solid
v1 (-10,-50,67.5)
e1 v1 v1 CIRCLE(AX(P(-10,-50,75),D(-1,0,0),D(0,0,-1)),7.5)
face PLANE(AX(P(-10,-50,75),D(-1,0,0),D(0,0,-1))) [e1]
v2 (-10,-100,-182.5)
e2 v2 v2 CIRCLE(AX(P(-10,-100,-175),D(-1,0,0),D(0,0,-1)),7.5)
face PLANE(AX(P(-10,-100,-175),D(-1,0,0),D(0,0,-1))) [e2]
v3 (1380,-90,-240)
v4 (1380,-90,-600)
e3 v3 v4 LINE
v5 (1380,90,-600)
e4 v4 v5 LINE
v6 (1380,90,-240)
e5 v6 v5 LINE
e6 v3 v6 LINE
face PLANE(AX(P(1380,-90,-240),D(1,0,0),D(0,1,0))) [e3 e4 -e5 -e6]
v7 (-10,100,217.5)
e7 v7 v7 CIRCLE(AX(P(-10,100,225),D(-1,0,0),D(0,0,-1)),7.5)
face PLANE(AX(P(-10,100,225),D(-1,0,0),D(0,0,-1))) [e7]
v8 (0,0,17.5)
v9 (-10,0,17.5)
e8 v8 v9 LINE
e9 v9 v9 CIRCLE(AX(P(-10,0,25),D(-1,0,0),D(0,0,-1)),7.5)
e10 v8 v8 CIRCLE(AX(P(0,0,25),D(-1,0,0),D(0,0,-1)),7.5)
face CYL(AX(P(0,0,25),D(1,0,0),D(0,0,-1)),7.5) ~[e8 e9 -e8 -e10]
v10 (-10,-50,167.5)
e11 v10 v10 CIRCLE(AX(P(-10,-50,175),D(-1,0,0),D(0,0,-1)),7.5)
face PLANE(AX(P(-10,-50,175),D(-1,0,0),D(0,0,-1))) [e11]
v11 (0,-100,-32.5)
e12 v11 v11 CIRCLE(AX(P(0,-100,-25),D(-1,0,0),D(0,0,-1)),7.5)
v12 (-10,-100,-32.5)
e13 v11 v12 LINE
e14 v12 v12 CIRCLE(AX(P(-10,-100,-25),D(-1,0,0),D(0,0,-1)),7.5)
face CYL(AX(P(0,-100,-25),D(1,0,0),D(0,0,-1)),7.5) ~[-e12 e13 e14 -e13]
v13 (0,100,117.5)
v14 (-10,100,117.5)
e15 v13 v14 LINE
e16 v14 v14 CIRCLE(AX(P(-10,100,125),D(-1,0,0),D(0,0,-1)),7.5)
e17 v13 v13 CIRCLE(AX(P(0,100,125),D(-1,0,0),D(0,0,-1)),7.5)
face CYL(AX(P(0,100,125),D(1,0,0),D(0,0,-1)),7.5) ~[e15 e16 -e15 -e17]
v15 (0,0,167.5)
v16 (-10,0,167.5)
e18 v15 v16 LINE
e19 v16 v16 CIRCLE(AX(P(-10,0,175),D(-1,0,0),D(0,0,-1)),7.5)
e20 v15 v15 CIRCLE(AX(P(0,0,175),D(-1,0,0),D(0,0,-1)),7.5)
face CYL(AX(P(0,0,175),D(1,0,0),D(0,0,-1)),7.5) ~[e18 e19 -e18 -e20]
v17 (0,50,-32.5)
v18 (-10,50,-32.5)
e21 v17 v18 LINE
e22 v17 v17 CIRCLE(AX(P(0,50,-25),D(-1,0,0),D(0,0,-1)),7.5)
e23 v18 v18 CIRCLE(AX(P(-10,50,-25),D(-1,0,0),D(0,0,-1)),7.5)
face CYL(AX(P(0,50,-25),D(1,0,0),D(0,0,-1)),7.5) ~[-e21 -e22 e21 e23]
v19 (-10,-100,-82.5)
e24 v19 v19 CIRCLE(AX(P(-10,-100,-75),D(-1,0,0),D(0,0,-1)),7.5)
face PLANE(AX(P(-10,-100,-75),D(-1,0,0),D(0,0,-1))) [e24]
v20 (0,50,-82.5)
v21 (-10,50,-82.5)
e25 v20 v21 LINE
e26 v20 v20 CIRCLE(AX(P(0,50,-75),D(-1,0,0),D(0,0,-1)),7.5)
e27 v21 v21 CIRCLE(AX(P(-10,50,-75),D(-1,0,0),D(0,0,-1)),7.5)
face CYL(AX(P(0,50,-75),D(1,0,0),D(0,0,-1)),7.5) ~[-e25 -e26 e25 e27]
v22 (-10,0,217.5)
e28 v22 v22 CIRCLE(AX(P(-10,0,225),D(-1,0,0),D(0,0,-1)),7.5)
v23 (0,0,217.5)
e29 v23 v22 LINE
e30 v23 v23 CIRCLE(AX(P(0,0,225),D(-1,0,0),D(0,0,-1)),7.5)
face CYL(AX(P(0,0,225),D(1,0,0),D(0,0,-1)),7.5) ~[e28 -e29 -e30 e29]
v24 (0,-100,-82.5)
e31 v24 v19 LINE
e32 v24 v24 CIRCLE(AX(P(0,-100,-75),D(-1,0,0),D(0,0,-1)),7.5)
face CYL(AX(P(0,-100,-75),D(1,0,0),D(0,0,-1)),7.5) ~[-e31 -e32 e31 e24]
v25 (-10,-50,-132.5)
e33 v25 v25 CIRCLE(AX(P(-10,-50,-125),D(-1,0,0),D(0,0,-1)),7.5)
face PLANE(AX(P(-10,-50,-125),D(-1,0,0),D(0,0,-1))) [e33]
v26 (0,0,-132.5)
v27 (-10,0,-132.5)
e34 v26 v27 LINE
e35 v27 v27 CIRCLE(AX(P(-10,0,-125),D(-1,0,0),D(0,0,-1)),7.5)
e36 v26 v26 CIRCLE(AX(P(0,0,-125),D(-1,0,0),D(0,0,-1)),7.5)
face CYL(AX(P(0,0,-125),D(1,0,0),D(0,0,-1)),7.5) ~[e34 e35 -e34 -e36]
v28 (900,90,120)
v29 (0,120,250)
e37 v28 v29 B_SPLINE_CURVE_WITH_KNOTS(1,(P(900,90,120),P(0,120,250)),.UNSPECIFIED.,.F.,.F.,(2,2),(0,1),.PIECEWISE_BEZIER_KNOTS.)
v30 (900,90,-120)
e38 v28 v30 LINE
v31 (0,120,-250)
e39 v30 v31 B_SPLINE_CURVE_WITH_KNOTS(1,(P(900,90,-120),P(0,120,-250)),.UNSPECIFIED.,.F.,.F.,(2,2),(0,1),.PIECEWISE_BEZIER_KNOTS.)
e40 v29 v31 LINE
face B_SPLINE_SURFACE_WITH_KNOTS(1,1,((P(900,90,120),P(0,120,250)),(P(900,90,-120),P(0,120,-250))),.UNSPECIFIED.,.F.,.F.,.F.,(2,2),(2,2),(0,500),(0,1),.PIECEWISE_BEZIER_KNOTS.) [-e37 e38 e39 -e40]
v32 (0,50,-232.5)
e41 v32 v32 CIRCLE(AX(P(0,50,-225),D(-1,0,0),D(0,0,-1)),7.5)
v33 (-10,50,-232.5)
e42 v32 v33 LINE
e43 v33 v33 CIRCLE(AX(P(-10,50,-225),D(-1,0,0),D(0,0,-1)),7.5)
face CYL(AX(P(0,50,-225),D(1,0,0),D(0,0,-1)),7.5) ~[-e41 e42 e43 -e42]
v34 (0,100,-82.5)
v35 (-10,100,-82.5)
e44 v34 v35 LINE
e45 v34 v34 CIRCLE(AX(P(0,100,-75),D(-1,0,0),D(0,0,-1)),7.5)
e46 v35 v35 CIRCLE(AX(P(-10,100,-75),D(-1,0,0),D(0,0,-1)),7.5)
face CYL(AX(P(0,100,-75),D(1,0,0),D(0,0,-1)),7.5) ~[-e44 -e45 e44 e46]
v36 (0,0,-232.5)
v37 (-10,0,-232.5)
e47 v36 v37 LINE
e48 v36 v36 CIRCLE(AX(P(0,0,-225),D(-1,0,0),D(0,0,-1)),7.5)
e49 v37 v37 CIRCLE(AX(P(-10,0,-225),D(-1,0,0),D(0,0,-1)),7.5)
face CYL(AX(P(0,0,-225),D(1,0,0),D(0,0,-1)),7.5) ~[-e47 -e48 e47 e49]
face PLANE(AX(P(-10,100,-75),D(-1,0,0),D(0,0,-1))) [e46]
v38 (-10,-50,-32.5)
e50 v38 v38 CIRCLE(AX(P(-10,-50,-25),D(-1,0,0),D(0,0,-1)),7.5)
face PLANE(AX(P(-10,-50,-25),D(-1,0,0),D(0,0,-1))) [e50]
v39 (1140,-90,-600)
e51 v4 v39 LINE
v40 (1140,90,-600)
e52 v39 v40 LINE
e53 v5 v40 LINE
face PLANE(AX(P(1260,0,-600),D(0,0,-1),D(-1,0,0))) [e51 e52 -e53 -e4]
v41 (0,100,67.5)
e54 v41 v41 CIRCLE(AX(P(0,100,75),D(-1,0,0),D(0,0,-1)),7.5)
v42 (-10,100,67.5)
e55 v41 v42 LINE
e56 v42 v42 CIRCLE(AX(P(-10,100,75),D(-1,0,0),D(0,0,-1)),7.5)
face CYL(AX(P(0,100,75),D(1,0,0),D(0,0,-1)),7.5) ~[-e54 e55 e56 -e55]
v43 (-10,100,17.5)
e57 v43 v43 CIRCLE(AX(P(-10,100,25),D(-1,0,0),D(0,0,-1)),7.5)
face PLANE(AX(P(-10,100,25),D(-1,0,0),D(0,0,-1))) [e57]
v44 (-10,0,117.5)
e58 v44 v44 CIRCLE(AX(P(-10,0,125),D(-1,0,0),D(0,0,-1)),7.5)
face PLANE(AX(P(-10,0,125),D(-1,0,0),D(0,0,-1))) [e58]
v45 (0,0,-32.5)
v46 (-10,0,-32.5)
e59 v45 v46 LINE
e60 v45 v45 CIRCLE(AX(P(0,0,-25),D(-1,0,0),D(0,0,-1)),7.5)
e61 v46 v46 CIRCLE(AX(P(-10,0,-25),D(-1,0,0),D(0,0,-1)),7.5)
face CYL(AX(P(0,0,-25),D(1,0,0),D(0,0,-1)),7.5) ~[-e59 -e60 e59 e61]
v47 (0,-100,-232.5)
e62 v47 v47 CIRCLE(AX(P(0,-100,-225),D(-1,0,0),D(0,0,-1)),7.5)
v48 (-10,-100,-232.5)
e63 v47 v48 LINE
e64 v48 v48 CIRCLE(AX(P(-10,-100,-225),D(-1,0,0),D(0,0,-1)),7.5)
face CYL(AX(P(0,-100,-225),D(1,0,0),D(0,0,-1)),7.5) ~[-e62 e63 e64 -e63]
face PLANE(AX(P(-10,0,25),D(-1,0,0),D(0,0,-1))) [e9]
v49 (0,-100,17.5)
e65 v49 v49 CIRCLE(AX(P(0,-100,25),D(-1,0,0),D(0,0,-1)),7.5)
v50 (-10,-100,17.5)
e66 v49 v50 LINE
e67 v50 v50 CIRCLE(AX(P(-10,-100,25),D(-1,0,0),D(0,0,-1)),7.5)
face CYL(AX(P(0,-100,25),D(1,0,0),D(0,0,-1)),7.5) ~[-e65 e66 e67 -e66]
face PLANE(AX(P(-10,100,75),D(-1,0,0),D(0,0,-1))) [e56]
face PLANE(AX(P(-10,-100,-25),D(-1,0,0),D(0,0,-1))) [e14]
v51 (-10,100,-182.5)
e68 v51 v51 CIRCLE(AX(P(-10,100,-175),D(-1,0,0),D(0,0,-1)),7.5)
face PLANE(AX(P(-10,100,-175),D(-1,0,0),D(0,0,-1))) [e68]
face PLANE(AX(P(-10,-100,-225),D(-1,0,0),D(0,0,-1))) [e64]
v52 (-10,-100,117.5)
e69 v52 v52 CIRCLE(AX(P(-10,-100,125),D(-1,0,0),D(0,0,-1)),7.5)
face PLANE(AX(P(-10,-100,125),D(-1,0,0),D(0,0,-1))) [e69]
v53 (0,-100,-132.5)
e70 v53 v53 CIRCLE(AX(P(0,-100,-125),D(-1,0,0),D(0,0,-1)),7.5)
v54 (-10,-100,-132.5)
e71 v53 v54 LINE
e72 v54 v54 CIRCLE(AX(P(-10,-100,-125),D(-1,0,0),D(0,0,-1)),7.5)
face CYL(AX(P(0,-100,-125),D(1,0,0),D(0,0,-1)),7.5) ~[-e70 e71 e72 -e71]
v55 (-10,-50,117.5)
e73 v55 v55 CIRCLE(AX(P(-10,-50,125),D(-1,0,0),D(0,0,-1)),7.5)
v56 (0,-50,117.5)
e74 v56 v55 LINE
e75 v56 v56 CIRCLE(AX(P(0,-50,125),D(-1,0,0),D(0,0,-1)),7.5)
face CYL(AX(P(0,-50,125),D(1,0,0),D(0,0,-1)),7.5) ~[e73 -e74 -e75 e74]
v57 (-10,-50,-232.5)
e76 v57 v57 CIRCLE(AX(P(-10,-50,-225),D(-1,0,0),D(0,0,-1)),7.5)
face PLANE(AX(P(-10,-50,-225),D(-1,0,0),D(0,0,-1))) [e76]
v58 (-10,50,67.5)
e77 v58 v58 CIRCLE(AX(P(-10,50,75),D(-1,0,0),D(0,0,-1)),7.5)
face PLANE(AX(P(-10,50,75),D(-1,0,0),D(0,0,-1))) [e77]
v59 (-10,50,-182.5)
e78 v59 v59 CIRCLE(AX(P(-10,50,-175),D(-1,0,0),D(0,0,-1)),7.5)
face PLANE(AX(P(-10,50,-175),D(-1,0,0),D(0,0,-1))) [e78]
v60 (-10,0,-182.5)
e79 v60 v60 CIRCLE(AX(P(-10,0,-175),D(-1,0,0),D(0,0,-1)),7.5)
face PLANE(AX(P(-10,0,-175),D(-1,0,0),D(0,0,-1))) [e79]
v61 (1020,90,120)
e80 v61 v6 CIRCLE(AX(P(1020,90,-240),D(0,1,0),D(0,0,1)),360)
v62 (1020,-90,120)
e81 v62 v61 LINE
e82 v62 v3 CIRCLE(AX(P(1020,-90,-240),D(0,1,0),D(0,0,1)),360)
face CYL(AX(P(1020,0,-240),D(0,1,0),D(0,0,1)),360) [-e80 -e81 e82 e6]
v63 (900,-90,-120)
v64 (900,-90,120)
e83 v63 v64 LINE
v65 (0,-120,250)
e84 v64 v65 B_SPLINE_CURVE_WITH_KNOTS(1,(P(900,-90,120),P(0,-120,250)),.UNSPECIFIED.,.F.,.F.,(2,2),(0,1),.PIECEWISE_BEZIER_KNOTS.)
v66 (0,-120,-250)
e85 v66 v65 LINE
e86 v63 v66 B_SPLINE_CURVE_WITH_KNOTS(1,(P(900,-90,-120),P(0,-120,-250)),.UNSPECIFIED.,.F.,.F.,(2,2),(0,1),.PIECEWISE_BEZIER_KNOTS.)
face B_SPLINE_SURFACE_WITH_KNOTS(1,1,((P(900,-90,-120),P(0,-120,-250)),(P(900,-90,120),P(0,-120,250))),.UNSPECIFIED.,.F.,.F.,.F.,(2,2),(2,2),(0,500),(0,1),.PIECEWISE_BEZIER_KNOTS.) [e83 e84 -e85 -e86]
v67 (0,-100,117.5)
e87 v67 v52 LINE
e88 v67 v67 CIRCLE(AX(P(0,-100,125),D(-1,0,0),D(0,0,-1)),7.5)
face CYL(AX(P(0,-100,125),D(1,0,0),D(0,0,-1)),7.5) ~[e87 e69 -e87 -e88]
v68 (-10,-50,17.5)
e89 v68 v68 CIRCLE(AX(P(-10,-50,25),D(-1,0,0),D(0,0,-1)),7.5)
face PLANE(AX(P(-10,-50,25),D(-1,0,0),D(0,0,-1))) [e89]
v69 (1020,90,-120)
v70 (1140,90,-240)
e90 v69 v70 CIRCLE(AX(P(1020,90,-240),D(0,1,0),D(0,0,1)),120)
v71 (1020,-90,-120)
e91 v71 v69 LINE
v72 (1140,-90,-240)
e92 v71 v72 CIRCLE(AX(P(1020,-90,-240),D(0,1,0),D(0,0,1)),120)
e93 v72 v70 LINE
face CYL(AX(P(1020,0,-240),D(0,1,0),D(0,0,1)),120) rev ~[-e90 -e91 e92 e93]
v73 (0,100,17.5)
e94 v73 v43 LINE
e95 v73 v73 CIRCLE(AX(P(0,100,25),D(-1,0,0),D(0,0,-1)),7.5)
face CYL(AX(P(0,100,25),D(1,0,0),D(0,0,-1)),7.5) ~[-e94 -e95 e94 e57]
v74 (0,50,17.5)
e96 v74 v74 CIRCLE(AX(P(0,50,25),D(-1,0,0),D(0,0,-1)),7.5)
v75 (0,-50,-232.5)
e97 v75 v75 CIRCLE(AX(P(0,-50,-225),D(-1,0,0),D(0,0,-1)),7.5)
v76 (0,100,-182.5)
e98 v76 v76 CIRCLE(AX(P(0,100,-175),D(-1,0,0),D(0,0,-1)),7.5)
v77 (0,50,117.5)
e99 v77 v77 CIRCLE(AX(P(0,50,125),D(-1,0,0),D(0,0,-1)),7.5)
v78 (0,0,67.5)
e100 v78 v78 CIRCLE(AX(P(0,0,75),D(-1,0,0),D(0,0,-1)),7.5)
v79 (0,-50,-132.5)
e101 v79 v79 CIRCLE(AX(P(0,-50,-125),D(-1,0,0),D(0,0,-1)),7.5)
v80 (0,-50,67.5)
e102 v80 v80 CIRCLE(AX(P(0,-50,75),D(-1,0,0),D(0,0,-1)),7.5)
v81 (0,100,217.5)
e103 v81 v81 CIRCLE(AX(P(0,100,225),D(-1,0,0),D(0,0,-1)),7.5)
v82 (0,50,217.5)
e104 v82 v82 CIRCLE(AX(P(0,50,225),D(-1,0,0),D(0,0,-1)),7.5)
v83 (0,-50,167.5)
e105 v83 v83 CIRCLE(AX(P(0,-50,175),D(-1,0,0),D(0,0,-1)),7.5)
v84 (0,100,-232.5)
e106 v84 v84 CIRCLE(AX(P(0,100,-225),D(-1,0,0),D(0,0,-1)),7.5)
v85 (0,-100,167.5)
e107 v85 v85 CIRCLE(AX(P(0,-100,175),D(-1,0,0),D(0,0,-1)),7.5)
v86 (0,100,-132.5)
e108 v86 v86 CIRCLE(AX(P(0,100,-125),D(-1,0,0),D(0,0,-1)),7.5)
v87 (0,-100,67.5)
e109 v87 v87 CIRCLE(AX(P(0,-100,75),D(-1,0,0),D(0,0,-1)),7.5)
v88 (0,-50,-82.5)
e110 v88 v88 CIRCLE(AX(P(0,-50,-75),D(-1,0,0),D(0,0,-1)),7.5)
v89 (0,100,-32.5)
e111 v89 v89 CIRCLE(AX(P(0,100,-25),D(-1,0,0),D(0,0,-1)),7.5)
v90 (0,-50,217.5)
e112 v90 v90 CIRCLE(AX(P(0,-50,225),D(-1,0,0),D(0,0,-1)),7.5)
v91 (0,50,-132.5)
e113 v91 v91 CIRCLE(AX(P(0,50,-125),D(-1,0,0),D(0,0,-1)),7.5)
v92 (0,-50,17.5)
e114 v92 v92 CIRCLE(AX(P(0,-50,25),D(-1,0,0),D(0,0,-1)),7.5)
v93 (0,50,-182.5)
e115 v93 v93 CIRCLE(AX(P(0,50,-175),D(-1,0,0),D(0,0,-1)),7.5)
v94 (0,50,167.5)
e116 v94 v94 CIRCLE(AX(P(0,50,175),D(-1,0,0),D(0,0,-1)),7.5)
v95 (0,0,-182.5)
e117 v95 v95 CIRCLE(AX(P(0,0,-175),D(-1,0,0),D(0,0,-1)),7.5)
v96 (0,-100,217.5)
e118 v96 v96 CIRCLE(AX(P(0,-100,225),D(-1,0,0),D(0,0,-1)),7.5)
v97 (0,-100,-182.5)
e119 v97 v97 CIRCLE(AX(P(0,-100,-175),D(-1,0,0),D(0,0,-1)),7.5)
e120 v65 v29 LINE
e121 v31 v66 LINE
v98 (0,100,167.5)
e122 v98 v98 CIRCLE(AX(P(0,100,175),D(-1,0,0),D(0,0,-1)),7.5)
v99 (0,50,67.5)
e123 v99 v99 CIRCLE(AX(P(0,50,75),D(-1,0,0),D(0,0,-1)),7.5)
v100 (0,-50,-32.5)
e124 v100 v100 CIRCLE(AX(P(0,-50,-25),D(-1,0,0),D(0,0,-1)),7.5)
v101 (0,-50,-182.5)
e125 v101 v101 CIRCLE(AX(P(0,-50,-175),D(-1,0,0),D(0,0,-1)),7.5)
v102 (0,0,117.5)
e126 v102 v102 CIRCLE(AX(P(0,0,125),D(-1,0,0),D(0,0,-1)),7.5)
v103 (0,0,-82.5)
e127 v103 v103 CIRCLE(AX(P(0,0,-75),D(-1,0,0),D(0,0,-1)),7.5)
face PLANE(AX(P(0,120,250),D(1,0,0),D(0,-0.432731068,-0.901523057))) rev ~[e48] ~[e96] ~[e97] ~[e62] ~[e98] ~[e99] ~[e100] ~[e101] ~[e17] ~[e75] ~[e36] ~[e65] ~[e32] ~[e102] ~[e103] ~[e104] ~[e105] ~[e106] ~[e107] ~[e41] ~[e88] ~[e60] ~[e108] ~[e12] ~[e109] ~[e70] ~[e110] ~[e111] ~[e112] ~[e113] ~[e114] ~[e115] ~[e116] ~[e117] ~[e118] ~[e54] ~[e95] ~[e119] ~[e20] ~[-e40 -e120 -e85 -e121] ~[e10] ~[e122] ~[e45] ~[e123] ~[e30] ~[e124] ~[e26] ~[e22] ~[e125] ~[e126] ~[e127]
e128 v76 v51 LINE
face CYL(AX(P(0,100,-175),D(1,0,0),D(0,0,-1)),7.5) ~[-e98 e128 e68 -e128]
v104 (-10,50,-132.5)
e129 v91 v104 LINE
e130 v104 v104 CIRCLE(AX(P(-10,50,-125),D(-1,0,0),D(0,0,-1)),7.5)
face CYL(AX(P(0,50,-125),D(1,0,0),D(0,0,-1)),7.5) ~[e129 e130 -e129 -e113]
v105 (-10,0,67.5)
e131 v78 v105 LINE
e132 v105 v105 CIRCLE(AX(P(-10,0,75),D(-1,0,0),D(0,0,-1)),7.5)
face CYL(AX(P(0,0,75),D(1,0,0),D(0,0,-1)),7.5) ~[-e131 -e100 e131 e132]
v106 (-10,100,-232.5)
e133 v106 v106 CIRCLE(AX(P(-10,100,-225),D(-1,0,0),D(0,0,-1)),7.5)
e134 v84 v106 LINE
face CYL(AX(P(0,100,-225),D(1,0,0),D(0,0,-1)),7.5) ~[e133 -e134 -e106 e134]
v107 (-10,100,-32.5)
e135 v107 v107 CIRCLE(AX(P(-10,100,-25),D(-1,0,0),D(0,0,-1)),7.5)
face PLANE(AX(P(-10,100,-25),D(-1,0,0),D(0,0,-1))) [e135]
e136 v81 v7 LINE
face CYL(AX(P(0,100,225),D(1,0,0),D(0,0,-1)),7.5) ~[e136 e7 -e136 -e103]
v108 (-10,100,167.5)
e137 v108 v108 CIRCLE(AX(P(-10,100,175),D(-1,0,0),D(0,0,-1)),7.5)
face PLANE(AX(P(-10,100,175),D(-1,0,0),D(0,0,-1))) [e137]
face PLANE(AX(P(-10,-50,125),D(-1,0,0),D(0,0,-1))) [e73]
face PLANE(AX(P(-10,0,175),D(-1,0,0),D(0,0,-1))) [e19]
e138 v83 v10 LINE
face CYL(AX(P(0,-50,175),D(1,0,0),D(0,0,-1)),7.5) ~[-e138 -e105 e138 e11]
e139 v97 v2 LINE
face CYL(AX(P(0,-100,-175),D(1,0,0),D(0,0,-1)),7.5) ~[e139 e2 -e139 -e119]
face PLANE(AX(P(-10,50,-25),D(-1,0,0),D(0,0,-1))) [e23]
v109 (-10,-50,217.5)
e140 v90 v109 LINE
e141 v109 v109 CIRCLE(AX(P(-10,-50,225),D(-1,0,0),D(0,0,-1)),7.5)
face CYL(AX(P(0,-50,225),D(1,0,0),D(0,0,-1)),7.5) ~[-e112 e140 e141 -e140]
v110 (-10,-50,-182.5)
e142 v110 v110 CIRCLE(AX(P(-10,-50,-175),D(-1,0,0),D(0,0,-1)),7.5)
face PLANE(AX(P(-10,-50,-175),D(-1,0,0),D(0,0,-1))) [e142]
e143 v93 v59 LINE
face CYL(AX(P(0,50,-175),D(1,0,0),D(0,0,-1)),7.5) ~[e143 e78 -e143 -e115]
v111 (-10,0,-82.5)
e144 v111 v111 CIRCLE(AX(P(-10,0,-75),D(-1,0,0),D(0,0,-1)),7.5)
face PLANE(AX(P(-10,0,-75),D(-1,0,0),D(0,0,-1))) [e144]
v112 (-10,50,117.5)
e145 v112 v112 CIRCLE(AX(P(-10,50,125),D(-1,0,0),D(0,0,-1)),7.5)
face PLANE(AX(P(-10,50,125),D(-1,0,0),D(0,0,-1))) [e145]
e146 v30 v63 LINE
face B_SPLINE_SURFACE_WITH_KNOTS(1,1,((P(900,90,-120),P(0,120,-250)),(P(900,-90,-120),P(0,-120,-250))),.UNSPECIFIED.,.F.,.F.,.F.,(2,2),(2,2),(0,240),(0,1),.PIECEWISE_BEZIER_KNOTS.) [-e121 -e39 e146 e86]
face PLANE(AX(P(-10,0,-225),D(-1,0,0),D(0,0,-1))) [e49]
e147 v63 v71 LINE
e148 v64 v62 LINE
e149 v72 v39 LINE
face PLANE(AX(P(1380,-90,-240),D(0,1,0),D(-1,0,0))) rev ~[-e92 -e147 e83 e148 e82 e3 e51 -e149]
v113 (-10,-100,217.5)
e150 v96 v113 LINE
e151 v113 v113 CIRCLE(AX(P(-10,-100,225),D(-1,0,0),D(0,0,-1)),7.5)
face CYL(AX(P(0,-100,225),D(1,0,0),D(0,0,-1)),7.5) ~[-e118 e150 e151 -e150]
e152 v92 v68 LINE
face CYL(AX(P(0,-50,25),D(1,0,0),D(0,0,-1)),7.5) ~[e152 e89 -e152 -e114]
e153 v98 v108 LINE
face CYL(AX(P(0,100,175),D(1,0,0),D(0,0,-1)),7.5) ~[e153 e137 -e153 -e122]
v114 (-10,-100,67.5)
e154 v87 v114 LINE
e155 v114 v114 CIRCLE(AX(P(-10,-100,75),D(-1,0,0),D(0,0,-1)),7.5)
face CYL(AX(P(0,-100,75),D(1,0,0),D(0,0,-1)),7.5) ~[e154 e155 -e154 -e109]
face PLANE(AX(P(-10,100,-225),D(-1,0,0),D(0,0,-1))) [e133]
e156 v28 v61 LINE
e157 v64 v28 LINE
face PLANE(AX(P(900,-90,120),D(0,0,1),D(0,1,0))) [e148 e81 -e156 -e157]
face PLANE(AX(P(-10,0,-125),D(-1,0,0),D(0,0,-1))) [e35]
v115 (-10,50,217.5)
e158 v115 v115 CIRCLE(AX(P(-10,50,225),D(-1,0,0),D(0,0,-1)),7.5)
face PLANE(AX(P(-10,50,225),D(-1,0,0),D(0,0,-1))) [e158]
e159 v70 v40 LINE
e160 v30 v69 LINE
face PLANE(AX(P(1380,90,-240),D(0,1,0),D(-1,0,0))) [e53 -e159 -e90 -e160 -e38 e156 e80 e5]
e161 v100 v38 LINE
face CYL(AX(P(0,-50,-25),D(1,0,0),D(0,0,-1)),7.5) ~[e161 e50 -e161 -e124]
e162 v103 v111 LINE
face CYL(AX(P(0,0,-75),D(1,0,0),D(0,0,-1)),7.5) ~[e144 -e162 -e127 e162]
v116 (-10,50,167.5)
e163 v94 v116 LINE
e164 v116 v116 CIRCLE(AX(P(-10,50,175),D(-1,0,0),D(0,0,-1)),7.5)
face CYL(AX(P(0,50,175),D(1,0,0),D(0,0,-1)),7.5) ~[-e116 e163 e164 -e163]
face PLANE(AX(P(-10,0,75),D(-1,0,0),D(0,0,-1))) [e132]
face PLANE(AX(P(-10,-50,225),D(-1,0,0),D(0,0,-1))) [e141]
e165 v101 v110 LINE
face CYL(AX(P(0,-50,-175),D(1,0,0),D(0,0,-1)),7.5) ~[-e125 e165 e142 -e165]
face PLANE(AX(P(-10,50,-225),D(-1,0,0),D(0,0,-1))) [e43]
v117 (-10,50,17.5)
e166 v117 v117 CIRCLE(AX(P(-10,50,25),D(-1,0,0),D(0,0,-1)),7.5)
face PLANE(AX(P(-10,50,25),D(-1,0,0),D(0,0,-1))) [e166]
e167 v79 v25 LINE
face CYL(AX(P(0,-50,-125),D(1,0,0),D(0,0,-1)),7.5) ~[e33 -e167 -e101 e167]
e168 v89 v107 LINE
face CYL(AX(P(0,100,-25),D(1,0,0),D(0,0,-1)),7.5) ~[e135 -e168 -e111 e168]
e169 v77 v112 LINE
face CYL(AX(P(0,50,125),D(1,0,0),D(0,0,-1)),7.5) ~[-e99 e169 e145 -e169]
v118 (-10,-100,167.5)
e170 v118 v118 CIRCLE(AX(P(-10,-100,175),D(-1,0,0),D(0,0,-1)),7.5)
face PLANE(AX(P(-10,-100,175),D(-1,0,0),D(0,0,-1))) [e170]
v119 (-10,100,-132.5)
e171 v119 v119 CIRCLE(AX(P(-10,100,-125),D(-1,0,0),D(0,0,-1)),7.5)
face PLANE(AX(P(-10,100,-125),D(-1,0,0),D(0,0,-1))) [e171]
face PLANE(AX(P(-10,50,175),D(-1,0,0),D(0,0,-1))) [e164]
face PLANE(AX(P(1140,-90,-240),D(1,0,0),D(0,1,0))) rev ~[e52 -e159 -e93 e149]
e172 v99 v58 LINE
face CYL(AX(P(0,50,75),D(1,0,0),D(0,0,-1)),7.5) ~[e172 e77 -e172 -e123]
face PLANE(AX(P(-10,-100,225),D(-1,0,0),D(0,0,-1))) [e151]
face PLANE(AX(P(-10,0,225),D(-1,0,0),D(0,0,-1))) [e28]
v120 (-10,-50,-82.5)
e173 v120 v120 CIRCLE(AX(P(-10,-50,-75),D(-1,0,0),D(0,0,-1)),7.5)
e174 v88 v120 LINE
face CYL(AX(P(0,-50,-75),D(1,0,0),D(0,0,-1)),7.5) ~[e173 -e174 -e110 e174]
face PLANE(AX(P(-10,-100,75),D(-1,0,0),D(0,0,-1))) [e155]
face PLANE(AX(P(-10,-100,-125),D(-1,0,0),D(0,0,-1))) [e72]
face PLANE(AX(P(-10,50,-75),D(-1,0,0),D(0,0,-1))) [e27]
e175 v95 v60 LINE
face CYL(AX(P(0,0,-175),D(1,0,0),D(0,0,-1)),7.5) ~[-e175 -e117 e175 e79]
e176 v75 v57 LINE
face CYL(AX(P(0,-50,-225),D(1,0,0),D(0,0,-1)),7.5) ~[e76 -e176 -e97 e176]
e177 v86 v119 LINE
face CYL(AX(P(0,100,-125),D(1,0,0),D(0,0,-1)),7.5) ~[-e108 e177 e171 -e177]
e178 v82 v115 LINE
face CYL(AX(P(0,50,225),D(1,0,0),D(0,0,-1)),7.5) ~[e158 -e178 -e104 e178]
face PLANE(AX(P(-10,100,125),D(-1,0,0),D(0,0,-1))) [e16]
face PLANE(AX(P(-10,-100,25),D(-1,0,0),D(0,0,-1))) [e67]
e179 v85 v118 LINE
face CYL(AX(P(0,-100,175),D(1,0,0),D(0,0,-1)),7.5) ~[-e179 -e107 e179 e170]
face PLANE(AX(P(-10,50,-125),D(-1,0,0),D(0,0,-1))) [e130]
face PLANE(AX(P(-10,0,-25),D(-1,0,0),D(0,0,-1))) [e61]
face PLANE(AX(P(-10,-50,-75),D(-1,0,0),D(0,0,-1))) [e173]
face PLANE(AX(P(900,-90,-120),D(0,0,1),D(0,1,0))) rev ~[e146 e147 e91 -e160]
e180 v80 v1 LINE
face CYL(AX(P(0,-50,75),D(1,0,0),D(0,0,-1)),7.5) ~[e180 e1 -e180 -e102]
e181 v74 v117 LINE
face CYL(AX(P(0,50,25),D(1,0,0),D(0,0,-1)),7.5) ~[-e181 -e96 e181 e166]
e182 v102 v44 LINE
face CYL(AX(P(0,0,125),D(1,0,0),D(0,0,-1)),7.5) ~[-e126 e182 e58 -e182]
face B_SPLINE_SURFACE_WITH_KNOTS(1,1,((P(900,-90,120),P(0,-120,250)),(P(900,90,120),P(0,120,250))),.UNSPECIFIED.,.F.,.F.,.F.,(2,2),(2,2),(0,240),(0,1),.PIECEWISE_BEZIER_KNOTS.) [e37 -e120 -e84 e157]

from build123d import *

# Parameters (mm, degrees)
SKETCH_2_5_W    = 240
SKETCH_2_5_H    = 180
EXTRUDE_2_DEPTH = 120
SKETCH_10_W     = 240
SKETCH_10_H     = 180
REVOLVE_2_ANGLE = 90
SKETCH_11_W     = 240
SKETCH_11_H     = 180
EXTRUDE_3_DEPTH = 360
SKETCH_13_R     = 7.5
EXTRUDE_4_DEPTH = 10


with BuildPart() as part:
    # 草图2 → 放样1 section 0
    with BuildSketch(Plane(origin=(900, 0, 0), x_dir=(0, 0, -1), z_dir=(1, 0, 0))):
        with BuildLine():
            Line((-120, 90), (120, 90))
            Line((120, 90), (120, -90))
            Line((120, -90), (-120, -90))
            Line((-120, -90), (-120, 90))
        make_face()
    # 草图1 → 放样1 section 1
    with BuildSketch(Plane(origin=(0, 0, 0), x_dir=(0, 0, -1), z_dir=(1, 0, 0))):
        with BuildLine():
            Line((-250, 120), (250, 120))
            Line((250, 120), (250, -120))
            Line((250, -120), (-250, -120))
            Line((-250, -120), (-250, 120))
        make_face()
    loft()

    # 草图2<5> → 凸台-拉伸2 (add)
    with BuildSketch(Plane(origin=(900, 0, 0), x_dir=(0, 0, -1), z_dir=(1, 0, 0))):
        Rectangle(SKETCH_2_5_W, SKETCH_2_5_H)
    extrude(amount=EXTRUDE_2_DEPTH)

    # 草图10 → 旋转2 (revolve)
    with BuildSketch(Plane(origin=(1020, 0, 0), x_dir=(0, 0, -1), z_dir=(1, 0, 0))):
        Rectangle(SKETCH_10_W, SKETCH_10_H)
    revolve(axis=Axis((1020, 90, -240), (0, 1, 0)), revolution_arc=REVOLVE_2_ANGLE)

    # 草图11 → 凸台-拉伸3 (add)
    with BuildSketch(Plane(origin=(0, 0, -240), x_dir=(-1, 0, 0), z_dir=(0, 0, -1))):
        with Locations((-1260, 0)):
            Rectangle(SKETCH_11_W, SKETCH_11_H)
    extrude(amount=EXTRUDE_3_DEPTH)

    # 草图13 → 凸台-拉伸4 (add)
    with BuildSketch(Plane.ZY):
        with Locations((225, -100)):
            Circle(SKETCH_13_R)
        with Locations((175, -100)):
            Circle(SKETCH_13_R)
        with Locations((125, -100)):
            Circle(SKETCH_13_R)
        with Locations((75, -100)):
            Circle(SKETCH_13_R)
        with Locations((25, -100)):
            Circle(SKETCH_13_R)
        with Locations((-25, -100)):
            Circle(SKETCH_13_R)
        with Locations((-75, -100)):
            Circle(SKETCH_13_R)
        with Locations((-125, -100)):
            Circle(SKETCH_13_R)
        with Locations((-175, -100)):
            Circle(SKETCH_13_R)
        with Locations((-225, -100)):
            Circle(SKETCH_13_R)
        with Locations((175, -50)):
            Circle(SKETCH_13_R)
        with Locations((125, -50)):
            Circle(SKETCH_13_R)
        with Locations((75, -50)):
            Circle(SKETCH_13_R)
        with Locations((25, -50)):
            Circle(SKETCH_13_R)
        with Locations((-25, -50)):
            Circle(SKETCH_13_R)
        with Locations((-75, -50)):
            Circle(SKETCH_13_R)
        with Locations((-125, -50)):
            Circle(SKETCH_13_R)
        with Locations((-175, -50)):
            Circle(SKETCH_13_R)
        with Locations((-225, -50)):
            Circle(SKETCH_13_R)
        with Locations((175, 0)):
            Circle(SKETCH_13_R)
        with Locations((125, 0)):
            Circle(SKETCH_13_R)
        with Locations((75, 0)):
            Circle(SKETCH_13_R)
        with Locations((25, 0)):
            Circle(SKETCH_13_R)
        with Locations((-25, 0)):
            Circle(SKETCH_13_R)
        with Locations((-75, 0)):
            Circle(SKETCH_13_R)
        with Locations((-125, 0)):
            Circle(SKETCH_13_R)
        with Locations((-175, 0)):
            Circle(SKETCH_13_R)
        with Locations((-225, 0)):
            Circle(SKETCH_13_R)
        with Locations((175, 50)):
            Circle(SKETCH_13_R)
        with Locations((125, 50)):
            Circle(SKETCH_13_R)
        with Locations((75, 50)):
            Circle(SKETCH_13_R)
        with Locations((25, 50)):
            Circle(SKETCH_13_R)
        with Locations((-25, 50)):
            Circle(SKETCH_13_R)
        with Locations((-75, 50)):
            Circle(SKETCH_13_R)
        with Locations((-125, 50)):
            Circle(SKETCH_13_R)
        with Locations((-175, 50)):
            Circle(SKETCH_13_R)
        with Locations((-225, 50)):
            Circle(SKETCH_13_R)
        with Locations((175, 100)):
            Circle(SKETCH_13_R)
        with Locations((125, 100)):
            Circle(SKETCH_13_R)
        with Locations((75, 100)):
            Circle(SKETCH_13_R)
        with Locations((25, 100)):
            Circle(SKETCH_13_R)
        with Locations((-25, 100)):
            Circle(SKETCH_13_R)
        with Locations((-75, 100)):
            Circle(SKETCH_13_R)
        with Locations((-125, 100)):
            Circle(SKETCH_13_R)
        with Locations((-175, 100)):
            Circle(SKETCH_13_R)
        with Locations((-225, 100)):
            Circle(SKETCH_13_R)
        with Locations((225, -50)):
            Circle(SKETCH_13_R)
        with Locations((225, 0)):
            Circle(SKETCH_13_R)
        with Locations((225, 50)):
            Circle(SKETCH_13_R)
        with Locations((225, 100)):
            Circle(SKETCH_13_R)
    extrude(amount=EXTRUDE_4_DEPTH)


solid = part.part
